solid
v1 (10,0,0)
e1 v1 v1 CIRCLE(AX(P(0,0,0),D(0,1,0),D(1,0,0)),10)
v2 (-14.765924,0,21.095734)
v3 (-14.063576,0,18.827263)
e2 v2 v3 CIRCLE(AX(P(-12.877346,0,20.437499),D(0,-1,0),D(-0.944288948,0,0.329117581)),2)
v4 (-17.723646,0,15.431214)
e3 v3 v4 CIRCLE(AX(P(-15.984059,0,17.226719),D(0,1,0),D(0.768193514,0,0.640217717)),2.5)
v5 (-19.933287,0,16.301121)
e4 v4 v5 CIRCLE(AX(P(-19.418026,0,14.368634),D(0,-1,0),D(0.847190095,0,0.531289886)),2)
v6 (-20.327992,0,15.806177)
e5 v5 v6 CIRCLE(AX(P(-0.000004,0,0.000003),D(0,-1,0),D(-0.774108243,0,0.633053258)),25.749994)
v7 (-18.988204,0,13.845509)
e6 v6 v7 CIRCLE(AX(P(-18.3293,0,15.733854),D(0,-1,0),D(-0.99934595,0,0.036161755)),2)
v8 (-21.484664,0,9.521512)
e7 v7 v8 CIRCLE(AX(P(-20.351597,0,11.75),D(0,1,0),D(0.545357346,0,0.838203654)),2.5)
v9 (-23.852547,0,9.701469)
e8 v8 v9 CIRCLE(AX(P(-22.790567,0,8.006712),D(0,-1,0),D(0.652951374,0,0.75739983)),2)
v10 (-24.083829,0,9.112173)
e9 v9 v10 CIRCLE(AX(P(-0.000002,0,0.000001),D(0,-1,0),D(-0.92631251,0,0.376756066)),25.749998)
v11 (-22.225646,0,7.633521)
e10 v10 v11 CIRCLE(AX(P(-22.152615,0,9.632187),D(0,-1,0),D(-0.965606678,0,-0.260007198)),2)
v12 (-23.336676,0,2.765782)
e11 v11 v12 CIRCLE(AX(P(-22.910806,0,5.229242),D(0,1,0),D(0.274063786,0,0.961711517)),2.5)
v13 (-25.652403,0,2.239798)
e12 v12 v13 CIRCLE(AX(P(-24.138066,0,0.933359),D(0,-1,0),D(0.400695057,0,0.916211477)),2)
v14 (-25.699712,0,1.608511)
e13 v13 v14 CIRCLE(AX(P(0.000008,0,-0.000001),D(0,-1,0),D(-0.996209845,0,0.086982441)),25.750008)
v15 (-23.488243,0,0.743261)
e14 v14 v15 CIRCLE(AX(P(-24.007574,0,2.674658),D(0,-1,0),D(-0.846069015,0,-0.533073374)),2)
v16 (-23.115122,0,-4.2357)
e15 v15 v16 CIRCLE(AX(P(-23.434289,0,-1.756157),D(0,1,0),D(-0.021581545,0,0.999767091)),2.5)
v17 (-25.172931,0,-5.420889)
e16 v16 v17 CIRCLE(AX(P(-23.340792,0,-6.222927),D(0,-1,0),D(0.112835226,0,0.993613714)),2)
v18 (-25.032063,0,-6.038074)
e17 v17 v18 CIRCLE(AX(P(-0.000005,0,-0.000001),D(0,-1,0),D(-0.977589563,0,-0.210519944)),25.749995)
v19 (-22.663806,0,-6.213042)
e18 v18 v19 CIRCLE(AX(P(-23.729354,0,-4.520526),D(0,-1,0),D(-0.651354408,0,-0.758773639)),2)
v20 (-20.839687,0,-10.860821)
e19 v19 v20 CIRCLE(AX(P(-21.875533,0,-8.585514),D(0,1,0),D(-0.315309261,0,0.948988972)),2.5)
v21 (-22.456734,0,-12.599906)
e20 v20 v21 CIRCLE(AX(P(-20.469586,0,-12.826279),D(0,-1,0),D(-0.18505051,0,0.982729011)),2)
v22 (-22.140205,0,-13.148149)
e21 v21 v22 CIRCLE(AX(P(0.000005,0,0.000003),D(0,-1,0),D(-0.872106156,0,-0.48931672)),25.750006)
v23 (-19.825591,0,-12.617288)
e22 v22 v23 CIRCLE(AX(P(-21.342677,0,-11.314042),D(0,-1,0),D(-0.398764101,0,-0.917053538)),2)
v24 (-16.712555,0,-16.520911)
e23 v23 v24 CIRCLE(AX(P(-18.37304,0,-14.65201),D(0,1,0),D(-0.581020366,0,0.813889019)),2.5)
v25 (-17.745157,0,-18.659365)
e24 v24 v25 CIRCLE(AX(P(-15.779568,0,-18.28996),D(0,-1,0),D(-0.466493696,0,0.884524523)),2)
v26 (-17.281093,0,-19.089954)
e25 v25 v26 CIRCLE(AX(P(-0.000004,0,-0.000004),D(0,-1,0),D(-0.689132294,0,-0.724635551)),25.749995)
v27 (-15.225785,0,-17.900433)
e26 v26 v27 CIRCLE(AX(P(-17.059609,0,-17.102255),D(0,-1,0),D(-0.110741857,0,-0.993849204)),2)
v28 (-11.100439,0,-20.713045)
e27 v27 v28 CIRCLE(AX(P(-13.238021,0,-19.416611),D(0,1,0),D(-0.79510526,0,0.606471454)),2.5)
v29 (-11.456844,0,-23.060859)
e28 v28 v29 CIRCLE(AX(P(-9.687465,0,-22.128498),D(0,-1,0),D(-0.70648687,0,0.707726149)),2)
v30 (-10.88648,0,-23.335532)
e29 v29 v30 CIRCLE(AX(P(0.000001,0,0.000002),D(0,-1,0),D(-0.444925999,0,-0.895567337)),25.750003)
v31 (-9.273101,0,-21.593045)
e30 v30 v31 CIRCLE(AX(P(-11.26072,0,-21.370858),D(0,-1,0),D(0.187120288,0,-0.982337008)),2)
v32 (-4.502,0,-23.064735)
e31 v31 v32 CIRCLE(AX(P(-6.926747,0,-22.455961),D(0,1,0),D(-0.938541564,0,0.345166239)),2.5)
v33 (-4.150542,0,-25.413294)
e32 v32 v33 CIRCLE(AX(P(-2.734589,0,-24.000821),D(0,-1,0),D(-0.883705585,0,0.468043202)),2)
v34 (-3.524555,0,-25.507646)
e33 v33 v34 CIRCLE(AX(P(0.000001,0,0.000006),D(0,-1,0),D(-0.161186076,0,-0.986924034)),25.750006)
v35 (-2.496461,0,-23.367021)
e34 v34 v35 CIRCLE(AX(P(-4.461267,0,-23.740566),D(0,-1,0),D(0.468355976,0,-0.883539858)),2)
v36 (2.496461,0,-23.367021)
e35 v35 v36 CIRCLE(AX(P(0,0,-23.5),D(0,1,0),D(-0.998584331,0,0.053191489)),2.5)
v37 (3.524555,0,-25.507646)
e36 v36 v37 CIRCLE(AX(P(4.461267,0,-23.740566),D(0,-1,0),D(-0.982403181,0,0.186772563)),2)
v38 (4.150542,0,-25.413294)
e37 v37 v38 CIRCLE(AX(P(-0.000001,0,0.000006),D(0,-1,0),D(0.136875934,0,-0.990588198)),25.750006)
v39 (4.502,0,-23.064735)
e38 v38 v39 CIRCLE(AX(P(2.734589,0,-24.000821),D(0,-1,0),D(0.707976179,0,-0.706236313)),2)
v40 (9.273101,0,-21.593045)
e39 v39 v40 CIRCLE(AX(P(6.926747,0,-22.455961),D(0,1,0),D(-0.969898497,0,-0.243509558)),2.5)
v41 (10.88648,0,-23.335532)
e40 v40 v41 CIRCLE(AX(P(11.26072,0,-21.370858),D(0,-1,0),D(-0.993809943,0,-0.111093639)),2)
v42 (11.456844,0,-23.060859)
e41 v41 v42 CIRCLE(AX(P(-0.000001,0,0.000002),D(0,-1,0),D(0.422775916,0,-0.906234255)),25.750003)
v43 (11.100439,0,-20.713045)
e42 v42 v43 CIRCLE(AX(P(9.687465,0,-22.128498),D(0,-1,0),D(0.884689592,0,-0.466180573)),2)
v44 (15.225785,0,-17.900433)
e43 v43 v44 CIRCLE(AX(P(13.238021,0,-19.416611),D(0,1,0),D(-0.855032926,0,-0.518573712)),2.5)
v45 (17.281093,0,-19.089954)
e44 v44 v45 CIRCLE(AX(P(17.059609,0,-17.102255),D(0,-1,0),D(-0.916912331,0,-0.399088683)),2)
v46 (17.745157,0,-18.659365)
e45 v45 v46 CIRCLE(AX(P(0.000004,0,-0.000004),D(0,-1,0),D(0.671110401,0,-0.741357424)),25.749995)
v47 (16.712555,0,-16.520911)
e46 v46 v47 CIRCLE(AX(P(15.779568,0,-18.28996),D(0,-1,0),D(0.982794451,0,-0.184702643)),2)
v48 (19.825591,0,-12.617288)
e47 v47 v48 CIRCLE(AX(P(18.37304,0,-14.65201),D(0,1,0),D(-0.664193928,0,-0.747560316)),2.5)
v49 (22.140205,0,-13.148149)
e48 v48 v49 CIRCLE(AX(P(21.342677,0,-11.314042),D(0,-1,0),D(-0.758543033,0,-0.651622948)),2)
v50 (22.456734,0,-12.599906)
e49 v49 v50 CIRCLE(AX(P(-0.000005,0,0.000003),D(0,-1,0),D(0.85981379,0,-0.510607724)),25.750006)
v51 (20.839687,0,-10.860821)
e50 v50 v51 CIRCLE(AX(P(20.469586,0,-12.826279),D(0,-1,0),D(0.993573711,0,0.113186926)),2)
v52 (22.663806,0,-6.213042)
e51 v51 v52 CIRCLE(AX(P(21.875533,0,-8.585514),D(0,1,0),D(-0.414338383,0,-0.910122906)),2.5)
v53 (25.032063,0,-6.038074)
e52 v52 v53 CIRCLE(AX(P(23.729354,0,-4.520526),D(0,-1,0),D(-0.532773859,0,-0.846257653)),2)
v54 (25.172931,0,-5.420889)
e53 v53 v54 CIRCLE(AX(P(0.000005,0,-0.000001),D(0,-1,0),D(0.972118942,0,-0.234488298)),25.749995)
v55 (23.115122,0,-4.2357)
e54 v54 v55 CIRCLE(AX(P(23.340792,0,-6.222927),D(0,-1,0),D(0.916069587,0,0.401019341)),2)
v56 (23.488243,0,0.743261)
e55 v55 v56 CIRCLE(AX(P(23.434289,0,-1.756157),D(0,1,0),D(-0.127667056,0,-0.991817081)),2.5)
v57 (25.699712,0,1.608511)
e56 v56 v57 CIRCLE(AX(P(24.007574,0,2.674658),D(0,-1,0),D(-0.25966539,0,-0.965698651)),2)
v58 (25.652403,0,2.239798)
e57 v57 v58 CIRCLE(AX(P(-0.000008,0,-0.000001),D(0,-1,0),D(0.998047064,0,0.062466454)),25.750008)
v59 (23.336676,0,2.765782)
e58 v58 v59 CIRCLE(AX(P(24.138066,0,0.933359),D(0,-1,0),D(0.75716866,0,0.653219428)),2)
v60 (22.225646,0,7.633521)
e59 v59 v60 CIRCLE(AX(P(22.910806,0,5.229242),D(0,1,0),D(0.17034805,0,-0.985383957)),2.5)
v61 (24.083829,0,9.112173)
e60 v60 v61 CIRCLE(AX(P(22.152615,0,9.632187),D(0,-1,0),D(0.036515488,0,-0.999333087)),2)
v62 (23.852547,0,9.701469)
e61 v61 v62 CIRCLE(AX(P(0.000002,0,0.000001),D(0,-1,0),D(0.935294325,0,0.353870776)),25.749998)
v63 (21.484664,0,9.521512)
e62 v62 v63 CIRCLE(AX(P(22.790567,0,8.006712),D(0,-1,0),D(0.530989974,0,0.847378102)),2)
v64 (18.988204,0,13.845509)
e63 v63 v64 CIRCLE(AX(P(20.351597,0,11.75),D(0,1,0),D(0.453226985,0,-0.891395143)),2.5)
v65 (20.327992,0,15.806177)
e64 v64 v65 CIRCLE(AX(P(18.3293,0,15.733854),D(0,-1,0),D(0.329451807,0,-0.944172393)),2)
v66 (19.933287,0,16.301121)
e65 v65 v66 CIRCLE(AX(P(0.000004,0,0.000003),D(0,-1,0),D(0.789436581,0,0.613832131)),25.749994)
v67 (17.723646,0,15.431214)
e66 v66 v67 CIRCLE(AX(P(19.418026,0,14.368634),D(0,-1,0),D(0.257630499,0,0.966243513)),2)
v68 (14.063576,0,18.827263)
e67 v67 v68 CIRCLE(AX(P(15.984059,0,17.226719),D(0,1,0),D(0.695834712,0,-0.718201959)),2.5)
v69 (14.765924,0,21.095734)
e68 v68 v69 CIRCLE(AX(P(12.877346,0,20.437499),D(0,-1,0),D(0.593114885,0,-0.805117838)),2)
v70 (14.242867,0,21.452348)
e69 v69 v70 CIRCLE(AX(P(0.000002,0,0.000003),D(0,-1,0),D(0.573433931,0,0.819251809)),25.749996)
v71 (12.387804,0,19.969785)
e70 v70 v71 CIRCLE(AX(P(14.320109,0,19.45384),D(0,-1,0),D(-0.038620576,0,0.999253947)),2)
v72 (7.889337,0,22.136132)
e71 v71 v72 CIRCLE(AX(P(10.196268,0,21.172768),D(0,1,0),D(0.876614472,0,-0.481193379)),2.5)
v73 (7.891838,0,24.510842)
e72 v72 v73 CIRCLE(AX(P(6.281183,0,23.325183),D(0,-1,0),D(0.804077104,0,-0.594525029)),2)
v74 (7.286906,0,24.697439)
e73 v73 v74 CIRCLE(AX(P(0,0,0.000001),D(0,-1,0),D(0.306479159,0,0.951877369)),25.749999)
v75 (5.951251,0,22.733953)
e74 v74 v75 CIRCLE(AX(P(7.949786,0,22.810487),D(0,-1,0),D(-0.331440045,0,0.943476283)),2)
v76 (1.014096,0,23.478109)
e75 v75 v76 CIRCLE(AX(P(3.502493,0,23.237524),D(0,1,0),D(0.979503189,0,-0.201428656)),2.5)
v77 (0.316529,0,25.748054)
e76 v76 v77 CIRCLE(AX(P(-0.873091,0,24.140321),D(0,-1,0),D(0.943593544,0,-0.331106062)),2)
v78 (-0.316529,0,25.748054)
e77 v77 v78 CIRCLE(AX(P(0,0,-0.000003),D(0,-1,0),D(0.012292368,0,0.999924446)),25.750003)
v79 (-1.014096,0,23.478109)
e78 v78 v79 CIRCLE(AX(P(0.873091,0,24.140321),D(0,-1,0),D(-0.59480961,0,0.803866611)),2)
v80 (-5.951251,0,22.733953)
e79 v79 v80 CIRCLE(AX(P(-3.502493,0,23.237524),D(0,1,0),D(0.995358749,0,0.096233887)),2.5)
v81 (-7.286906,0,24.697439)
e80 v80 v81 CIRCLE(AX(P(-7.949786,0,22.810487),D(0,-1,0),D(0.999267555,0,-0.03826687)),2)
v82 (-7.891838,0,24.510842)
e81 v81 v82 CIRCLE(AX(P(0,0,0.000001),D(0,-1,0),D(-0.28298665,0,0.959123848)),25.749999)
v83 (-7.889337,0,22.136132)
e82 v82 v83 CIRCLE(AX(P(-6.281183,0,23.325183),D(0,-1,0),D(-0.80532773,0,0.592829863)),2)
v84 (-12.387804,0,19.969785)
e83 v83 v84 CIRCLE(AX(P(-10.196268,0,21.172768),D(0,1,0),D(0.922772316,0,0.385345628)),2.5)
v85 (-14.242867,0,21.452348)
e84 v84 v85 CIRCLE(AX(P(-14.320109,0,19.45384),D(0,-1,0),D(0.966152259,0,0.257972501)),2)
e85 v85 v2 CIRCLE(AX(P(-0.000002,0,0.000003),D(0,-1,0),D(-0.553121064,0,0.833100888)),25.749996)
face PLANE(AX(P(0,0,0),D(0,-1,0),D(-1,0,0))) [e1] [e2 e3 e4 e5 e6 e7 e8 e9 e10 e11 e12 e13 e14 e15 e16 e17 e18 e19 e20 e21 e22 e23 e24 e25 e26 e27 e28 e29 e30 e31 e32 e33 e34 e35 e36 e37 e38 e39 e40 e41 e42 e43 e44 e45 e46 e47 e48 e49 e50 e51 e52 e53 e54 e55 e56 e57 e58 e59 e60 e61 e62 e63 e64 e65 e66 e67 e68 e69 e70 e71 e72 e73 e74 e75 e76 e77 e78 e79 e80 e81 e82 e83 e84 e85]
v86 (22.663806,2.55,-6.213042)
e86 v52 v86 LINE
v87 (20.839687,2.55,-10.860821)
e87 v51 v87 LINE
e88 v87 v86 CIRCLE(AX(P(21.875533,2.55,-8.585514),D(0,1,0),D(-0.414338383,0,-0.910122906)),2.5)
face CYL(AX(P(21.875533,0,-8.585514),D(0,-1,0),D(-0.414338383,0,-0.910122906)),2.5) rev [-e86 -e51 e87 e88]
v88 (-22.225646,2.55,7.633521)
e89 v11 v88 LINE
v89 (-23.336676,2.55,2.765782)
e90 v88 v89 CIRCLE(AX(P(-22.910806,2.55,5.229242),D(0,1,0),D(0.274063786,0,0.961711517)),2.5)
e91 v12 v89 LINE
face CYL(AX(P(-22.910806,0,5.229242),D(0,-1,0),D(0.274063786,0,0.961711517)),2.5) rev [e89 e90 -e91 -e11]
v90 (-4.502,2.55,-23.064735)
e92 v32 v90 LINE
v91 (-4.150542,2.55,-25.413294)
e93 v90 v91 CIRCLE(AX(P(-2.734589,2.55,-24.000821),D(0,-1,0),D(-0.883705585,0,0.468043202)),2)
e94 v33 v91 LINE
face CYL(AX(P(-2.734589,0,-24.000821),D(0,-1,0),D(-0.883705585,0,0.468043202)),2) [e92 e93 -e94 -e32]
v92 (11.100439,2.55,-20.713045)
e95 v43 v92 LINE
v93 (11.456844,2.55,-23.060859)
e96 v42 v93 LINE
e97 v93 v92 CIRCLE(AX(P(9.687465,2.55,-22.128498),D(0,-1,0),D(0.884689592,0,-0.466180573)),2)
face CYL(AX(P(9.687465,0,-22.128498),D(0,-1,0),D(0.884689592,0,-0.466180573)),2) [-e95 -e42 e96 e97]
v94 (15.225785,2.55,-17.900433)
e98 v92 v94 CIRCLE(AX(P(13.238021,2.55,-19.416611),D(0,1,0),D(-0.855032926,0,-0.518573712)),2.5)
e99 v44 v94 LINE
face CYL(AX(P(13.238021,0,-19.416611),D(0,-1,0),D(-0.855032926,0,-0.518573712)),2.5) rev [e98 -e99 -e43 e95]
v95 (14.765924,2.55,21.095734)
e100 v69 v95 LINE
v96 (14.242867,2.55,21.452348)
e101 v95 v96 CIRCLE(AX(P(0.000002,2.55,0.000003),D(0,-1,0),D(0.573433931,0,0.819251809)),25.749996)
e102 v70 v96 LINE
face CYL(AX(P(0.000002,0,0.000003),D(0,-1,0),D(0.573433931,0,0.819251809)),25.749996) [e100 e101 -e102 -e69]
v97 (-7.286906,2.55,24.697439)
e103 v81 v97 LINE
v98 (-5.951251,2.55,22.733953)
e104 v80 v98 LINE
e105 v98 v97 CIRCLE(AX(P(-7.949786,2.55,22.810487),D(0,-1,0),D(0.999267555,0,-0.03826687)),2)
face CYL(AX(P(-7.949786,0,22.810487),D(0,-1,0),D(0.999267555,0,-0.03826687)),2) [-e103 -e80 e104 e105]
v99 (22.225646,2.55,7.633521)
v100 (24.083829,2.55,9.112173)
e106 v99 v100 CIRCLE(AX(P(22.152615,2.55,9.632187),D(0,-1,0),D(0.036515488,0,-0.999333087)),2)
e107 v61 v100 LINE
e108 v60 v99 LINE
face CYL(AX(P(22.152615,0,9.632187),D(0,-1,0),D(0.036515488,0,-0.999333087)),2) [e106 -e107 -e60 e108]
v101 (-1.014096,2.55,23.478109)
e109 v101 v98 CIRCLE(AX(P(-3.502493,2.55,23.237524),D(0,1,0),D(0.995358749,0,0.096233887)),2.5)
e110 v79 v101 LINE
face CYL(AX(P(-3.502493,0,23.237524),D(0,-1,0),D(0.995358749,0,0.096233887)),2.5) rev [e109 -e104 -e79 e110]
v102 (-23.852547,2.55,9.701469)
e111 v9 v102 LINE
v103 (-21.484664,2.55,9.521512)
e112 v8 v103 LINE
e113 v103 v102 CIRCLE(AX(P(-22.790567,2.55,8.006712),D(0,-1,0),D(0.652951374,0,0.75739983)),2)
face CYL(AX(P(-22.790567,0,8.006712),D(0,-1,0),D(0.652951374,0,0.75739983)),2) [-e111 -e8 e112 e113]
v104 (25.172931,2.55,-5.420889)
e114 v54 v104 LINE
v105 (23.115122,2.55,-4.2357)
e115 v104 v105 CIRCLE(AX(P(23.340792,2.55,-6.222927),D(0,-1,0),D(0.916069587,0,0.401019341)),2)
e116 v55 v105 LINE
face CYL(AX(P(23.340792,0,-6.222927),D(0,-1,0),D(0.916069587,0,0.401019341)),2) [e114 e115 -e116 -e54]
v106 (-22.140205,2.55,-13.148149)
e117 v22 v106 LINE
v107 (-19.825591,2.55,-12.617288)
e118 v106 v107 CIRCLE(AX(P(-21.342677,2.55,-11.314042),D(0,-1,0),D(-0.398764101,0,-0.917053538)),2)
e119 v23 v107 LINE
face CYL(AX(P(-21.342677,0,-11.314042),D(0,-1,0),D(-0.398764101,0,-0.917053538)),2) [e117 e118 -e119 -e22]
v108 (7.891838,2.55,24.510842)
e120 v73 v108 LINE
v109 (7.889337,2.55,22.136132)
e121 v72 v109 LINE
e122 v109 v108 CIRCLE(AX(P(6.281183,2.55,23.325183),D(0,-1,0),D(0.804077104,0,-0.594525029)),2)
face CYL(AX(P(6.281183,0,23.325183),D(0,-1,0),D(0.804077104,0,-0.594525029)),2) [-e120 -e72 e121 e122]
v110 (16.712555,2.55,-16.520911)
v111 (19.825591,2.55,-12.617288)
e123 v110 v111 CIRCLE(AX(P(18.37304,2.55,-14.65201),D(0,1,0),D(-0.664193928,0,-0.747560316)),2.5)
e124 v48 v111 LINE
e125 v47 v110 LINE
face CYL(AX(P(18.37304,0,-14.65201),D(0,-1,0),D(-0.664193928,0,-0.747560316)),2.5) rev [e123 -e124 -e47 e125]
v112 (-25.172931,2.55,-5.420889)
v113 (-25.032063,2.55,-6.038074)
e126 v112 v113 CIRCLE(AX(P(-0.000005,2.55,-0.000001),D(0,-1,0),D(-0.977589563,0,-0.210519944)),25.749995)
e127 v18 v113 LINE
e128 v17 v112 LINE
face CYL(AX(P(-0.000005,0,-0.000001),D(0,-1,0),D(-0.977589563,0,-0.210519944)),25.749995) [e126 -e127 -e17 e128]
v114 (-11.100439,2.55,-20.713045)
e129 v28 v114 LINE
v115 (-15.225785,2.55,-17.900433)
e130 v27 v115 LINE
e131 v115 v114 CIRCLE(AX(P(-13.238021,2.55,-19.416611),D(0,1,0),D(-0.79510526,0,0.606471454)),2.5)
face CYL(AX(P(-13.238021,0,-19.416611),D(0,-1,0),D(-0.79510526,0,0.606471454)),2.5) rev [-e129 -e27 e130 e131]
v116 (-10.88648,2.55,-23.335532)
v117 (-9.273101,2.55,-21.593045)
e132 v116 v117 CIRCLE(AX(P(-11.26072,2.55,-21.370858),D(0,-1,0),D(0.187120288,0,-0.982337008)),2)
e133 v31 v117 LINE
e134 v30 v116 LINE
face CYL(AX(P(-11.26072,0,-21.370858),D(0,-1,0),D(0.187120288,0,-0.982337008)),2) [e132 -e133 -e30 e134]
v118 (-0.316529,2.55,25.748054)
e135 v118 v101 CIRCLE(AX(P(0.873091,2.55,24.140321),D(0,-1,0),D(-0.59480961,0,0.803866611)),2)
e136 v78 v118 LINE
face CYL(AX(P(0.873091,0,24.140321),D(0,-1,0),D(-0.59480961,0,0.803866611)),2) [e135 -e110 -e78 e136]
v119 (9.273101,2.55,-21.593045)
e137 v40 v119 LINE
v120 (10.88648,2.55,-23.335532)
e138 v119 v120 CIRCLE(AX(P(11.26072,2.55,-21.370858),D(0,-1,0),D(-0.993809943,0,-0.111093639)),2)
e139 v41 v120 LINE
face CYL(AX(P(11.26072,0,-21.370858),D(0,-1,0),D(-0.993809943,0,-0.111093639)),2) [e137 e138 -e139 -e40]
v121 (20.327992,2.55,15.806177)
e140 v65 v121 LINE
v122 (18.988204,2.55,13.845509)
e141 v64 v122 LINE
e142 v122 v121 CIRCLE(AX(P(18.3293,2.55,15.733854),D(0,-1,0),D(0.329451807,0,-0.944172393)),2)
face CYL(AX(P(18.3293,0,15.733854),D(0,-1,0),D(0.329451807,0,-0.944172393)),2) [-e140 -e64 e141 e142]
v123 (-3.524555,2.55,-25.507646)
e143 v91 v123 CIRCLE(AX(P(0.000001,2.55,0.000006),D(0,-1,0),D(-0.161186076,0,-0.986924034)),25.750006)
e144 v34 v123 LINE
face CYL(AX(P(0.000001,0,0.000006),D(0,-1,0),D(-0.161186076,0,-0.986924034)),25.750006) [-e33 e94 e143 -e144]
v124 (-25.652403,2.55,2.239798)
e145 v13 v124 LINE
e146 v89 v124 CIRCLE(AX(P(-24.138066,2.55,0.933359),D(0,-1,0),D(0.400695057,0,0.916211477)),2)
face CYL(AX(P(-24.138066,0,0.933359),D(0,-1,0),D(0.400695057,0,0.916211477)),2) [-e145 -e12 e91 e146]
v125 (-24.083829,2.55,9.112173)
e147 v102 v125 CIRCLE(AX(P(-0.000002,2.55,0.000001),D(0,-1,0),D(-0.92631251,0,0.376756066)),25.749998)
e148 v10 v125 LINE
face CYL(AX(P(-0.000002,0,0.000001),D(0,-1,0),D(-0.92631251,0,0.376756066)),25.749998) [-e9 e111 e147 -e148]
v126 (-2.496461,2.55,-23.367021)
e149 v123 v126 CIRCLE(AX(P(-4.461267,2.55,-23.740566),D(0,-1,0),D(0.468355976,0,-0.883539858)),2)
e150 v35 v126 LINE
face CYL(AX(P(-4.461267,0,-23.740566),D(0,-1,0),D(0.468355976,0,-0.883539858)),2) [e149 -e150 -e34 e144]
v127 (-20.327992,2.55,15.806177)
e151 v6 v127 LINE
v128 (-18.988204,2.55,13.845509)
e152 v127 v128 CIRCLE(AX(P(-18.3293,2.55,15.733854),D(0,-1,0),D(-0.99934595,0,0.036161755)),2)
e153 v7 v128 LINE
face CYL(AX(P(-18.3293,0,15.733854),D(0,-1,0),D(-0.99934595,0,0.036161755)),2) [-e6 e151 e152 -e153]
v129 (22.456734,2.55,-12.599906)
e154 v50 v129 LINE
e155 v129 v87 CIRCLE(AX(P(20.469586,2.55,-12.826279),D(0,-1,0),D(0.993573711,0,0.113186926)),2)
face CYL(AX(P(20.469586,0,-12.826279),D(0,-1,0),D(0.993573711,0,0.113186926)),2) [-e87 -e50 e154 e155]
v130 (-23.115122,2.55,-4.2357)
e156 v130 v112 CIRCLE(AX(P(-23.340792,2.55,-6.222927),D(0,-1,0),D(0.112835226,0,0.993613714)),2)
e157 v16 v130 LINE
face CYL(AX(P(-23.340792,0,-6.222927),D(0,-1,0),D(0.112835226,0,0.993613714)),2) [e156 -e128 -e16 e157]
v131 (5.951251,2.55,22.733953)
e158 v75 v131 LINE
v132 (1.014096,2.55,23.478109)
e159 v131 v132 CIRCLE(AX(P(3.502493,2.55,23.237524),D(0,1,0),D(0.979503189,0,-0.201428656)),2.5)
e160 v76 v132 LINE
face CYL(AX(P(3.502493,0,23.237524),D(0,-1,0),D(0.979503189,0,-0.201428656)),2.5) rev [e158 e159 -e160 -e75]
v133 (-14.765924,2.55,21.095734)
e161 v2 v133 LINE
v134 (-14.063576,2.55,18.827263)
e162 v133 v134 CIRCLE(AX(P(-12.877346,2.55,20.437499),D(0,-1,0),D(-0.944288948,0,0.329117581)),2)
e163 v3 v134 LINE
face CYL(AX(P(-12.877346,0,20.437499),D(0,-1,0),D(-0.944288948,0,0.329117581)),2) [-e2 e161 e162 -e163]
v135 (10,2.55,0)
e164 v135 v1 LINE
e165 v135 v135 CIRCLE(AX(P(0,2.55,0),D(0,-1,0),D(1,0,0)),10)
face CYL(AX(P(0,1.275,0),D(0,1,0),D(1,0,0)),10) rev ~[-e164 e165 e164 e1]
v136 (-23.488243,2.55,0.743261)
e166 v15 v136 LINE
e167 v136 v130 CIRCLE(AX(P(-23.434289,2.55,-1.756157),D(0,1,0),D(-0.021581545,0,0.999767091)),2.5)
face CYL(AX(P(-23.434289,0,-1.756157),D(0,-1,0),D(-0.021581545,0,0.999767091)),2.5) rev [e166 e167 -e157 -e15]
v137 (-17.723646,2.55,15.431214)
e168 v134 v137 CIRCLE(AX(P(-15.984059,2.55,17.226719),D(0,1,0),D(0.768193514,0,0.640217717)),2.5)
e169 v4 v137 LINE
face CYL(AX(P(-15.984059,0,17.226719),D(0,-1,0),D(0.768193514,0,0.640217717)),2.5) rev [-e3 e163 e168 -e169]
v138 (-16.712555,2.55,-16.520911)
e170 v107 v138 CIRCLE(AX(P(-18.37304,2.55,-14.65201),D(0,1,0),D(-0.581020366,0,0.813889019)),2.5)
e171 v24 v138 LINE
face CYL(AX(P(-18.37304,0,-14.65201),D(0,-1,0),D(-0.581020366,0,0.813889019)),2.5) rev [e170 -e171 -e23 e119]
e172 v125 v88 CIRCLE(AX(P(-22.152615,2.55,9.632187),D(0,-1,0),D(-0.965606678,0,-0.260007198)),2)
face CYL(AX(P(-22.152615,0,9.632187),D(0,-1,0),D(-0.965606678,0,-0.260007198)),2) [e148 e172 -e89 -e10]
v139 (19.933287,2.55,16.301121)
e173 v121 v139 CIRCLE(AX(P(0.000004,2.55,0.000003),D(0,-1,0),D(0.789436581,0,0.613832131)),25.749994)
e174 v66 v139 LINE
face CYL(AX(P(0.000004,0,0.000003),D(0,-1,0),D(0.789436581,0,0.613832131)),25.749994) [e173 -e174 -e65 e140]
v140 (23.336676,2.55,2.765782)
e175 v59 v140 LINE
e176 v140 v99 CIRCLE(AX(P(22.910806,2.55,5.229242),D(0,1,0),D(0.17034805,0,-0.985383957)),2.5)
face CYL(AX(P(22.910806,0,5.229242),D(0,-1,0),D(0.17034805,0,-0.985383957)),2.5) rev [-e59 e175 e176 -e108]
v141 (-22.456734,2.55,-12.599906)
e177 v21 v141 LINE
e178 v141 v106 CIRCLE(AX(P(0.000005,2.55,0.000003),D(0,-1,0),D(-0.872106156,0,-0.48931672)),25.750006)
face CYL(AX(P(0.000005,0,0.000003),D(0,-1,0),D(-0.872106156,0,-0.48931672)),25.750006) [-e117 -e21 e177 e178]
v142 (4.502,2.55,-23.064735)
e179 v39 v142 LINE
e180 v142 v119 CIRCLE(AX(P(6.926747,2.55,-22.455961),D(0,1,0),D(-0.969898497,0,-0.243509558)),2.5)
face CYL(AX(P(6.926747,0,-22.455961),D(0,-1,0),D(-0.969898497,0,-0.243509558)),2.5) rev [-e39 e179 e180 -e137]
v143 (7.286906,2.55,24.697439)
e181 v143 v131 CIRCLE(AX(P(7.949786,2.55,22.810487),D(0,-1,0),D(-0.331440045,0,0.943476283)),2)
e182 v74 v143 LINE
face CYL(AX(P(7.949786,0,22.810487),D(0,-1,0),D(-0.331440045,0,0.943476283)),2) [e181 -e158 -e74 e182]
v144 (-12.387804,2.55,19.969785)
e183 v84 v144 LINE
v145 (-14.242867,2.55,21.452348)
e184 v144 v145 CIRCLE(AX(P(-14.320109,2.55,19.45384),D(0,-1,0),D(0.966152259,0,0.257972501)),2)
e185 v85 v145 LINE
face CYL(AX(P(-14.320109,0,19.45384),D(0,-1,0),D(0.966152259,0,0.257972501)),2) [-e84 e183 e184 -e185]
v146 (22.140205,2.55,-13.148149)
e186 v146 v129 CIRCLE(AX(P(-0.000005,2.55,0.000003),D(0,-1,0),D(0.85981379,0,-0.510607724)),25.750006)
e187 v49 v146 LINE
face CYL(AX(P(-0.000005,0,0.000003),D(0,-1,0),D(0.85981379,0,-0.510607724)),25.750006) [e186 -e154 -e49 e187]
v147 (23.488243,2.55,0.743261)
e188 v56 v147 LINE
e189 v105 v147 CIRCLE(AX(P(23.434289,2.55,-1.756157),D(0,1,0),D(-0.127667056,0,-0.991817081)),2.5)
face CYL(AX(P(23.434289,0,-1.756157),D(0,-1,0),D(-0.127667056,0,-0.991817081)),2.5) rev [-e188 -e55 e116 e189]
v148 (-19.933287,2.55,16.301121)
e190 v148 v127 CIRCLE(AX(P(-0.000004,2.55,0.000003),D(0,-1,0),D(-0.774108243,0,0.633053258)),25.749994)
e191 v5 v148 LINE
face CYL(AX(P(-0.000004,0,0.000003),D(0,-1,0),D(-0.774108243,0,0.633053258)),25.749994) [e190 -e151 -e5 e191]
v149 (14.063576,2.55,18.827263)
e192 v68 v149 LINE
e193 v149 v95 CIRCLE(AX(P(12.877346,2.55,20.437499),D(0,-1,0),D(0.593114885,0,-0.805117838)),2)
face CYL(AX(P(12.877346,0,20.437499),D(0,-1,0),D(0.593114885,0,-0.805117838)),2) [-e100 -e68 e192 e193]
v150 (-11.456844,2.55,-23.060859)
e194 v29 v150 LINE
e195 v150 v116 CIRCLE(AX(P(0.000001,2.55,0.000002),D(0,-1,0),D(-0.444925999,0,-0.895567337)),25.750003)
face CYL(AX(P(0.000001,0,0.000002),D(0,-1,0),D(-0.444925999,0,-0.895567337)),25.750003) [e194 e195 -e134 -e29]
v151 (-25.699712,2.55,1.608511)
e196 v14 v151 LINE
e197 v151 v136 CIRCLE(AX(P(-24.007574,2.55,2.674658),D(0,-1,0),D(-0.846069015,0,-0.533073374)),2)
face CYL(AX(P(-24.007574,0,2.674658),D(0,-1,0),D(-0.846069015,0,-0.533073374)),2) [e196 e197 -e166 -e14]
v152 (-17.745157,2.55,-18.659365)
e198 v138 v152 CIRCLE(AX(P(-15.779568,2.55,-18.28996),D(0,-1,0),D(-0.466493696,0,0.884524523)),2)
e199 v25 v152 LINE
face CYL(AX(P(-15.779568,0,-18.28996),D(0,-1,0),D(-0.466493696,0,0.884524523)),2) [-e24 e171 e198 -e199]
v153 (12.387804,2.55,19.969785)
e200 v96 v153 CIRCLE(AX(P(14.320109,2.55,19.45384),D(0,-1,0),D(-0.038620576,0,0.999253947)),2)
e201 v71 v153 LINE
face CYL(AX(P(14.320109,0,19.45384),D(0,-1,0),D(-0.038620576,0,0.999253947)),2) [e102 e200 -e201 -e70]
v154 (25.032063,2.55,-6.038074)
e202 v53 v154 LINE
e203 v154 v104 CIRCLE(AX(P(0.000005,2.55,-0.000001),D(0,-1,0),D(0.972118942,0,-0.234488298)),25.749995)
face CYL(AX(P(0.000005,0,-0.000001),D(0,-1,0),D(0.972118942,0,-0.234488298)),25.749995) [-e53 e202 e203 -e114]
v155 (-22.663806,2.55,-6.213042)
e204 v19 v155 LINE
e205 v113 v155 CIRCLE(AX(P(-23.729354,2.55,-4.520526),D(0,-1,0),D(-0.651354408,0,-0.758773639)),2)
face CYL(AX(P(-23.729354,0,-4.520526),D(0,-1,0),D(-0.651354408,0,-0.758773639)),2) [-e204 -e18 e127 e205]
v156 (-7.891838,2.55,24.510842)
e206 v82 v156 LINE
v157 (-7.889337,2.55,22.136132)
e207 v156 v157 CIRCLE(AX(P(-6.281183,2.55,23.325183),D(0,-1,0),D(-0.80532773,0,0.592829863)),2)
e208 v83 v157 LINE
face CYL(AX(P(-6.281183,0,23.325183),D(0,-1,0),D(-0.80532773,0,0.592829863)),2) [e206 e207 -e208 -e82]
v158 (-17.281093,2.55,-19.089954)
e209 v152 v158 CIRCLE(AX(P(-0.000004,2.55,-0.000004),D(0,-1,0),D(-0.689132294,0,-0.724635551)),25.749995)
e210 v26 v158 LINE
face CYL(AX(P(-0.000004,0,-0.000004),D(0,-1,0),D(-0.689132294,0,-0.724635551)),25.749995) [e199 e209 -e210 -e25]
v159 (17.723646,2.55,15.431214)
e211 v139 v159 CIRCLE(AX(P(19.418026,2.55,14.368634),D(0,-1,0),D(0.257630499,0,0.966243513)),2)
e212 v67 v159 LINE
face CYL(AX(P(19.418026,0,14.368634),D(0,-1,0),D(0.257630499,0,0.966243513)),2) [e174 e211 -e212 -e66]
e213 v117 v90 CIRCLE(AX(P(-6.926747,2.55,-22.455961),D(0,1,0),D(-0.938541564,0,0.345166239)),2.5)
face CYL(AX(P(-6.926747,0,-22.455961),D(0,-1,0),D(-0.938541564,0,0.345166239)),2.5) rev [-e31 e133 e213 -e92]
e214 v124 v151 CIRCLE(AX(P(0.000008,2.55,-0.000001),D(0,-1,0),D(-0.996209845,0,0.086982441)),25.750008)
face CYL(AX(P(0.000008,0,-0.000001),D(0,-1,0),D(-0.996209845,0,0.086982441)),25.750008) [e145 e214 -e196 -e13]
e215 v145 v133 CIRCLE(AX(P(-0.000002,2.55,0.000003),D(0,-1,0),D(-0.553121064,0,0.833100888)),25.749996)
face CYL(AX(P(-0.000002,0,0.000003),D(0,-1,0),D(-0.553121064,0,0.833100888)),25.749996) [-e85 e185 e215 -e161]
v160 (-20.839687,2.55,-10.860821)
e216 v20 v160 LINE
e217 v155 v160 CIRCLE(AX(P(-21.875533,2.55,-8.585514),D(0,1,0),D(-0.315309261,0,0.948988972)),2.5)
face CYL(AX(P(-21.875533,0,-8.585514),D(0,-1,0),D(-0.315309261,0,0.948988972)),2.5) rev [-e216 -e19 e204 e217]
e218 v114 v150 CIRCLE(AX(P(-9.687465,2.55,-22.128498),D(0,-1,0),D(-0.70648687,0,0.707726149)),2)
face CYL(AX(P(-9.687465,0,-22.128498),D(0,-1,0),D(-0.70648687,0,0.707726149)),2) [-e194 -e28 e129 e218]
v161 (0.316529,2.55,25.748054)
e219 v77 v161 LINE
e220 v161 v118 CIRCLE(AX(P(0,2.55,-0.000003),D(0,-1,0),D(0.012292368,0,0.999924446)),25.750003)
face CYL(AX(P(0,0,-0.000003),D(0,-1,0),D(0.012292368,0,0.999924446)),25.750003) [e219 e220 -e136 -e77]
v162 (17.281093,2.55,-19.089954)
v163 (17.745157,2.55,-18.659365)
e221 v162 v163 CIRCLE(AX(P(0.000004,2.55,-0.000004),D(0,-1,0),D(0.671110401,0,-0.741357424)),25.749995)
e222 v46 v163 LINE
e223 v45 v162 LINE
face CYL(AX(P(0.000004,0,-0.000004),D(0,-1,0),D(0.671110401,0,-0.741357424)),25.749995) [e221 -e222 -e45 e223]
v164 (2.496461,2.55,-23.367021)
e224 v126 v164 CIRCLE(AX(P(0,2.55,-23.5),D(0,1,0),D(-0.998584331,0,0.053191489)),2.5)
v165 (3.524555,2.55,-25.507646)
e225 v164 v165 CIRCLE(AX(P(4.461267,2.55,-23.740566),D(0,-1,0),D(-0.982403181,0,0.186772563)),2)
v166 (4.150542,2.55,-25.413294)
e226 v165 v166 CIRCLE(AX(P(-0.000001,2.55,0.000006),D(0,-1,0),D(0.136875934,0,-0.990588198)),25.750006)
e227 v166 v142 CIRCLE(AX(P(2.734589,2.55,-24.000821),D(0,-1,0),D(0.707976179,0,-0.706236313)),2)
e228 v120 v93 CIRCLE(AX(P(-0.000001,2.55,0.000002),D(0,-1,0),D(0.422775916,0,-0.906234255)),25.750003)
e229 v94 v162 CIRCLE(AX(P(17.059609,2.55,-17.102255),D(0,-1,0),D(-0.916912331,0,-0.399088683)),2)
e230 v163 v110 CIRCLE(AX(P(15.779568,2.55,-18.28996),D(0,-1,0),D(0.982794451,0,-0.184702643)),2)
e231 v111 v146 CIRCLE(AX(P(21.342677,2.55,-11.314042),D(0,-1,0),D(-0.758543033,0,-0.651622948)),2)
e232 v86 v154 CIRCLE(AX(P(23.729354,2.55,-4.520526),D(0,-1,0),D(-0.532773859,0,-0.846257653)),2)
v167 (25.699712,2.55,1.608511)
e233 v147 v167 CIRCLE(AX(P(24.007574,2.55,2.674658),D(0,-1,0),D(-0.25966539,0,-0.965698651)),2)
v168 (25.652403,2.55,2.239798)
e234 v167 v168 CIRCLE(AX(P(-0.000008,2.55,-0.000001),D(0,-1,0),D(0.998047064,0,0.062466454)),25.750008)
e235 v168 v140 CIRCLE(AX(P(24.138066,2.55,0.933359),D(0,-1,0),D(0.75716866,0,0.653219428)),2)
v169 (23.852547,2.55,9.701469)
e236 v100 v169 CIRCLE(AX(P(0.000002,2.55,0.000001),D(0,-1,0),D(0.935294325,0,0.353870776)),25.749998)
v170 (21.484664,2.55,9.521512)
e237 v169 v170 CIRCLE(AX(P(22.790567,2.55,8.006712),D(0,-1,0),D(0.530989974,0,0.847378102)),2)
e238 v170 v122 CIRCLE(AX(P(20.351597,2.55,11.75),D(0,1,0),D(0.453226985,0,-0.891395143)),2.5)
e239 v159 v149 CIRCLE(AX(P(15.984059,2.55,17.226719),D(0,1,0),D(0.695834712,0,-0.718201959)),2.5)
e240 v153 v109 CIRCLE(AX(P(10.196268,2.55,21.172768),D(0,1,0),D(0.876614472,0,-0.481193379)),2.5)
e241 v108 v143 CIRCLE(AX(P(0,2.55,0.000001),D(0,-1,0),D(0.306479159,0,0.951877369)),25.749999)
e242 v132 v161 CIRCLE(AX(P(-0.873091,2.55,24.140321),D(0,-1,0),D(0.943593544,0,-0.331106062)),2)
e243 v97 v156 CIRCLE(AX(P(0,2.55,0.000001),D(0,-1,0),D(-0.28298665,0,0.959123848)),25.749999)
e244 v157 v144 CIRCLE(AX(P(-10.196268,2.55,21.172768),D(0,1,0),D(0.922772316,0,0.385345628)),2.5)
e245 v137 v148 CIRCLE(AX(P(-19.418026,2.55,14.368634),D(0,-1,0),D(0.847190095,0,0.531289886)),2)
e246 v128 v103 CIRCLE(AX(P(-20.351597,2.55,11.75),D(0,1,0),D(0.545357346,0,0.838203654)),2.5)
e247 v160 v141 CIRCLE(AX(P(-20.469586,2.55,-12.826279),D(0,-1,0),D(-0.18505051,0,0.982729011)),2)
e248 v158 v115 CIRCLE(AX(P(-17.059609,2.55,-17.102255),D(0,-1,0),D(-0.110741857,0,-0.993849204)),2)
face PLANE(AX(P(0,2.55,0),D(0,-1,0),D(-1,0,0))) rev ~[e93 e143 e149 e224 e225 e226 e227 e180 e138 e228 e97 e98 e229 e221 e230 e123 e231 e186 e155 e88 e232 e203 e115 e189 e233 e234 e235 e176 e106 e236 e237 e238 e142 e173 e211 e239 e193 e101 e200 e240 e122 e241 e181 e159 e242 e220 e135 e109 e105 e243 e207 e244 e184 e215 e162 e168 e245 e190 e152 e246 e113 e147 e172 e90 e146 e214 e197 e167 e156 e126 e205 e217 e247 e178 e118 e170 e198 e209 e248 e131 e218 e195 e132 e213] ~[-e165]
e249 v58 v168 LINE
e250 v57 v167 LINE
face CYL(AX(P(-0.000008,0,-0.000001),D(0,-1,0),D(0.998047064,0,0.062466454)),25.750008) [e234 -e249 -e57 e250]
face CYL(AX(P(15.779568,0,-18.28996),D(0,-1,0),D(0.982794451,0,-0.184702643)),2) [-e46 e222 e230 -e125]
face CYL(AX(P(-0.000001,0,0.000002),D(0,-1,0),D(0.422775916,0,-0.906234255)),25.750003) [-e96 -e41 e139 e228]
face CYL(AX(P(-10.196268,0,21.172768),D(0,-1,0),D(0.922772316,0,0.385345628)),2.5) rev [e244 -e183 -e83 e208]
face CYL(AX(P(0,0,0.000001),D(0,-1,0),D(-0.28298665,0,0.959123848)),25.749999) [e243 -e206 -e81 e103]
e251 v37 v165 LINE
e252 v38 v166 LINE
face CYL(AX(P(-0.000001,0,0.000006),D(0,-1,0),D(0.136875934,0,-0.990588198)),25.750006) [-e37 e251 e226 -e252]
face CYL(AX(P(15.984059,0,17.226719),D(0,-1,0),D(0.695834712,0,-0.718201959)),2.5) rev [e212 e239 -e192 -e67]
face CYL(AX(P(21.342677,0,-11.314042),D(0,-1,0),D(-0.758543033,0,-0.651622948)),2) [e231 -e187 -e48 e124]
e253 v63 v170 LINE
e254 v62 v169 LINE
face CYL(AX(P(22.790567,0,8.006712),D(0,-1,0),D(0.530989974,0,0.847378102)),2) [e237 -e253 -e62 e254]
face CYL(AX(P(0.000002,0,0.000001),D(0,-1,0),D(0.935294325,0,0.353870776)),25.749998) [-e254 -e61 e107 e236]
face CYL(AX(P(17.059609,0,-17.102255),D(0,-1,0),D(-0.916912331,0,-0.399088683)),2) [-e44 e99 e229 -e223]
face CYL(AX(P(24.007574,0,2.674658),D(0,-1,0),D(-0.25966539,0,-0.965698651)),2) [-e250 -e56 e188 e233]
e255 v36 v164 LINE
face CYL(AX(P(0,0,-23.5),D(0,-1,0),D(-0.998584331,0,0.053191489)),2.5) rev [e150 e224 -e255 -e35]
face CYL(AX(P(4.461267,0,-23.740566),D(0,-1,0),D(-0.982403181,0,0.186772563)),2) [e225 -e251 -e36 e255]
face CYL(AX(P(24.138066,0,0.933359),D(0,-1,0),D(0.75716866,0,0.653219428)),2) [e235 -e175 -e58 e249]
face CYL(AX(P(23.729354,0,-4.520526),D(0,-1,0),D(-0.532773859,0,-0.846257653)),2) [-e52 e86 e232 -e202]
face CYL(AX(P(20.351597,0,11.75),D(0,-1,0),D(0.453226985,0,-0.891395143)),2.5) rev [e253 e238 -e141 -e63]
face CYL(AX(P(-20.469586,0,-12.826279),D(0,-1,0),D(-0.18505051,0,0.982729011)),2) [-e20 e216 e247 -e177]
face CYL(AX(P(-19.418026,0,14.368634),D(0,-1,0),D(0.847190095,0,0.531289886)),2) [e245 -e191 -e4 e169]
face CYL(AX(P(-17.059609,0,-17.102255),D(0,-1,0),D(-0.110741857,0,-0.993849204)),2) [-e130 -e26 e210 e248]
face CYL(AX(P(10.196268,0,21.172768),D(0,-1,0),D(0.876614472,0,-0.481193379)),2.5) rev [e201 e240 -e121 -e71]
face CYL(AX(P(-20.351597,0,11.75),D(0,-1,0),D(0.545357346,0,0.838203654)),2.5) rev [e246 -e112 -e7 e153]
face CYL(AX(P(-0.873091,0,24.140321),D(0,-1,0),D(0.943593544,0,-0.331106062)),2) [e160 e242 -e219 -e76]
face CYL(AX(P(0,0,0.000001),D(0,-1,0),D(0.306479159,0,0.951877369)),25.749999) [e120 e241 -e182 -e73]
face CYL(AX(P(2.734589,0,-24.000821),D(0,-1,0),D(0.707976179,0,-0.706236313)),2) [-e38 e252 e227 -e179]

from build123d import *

# Parameters (mm, degrees)
SKETCH1_R               = 3
BOSS_EXTRUDE1_DEPTH     = 2.55
SKETCH2_R               = 10
CUT_EXTRUDE1_DEPTH      = 4
CUT_EXTRUDE1_DEPTH_BACK = 4


with BuildPart() as part:
    # Sketch1 → Boss-Extrude1 (new body)
    with BuildSketch(Plane(origin=(0, 0, 0), x_dir=(1, 0, 0), z_dir=(0, 1, 0))):
        with BuildLine():
            ThreePointArc((-2.496460827, 23.367021277), (0, 21), (2.496460827, 23.367021277))
            ThreePointArc((2.496460827, 23.367021277), (2.658416444, 24.60643544), (3.524555237, 25.507646116))
            ThreePointArc((3.524555237, 25.507646116), (3.837838354, 25.462393775), (4.150541543, 25.413293862))
            ThreePointArc((4.150541543, 25.413293862), (4.712563709, 24.296822557), (4.502000355, 23.064734831))
            ThreePointArc((4.502000355, 23.064734831), (6.189858663, 20.067028922), (9.273100509, 21.593045338))
            ThreePointArc((9.273100509, 21.593045338), (9.79318463, 22.729658551), (10.886479817, 23.335532074))
            ThreePointArc((10.886479817, 23.335532074), (11.172506282, 23.199948348), (11.456844492, 23.060858923))
            ThreePointArc((11.456844492, 23.060858923), (11.664811896, 21.828330364), (11.100439049, 20.713045477))
            ThreePointArc((11.100439049, 20.713045477), (11.829721219, 17.351014261), (15.225784516, 17.900432561))
            ThreePointArc((15.225784516, 17.900432561), (16.057785385, 18.833251753), (17.28109289, 19.089953602))
            ThreePointArc((17.28109289, 19.089953602), (17.514447998, 18.8760857), (17.745156531, 18.659365469))
            ThreePointArc((17.745156531, 18.659365469), (17.580590356, 17.420295227), (16.712555019, 16.520911135))
            ThreePointArc((16.712555019, 16.520911135), (16.418461132, 13.093285839), (19.825590752, 12.617287797))
            ThreePointArc((19.825590752, 12.617287797), (20.895581441, 13.263427887), (22.140205024, 13.148148977))
            ThreePointArc((22.140205024, 13.148148977), (22.300154147, 12.875), (22.456733538, 12.599905507))
            ThreePointArc((22.456733538, 12.599905507), (21.934256212, 11.464390411), (20.839687135, 10.860821338))
            ThreePointArc((20.839687135, 10.860821338), (19.548348722, 7.672161512), (22.663806246, 6.213041642))
            ThreePointArc((22.663806246, 6.213041642), (23.876713386, 6.515090249), (25.03206278, 6.038073615))
            ThreePointArc((25.03206278, 6.038073615), (25.104393739, 5.729914049), (25.172931221, 5.420888647))
            ThreePointArc((25.172931221, 5.420888647), (24.338967146, 4.489824196), (23.115121595, 4.235699903))
            ThreePointArc((23.115121595, 4.235699903), (20.941279741, 1.569331965), (23.488243097, -0.743260529))
            ThreePointArc((23.488243097, -0.743260529), (24.736294566, -0.812141749), (25.699711907, -1.608511084))
            ThreePointArc((25.699711907, -1.608511084), (25.677997777, -1.92429991), (25.652403496, -2.239797958))
            ThreePointArc((25.652403496, -2.239797958), (24.58105404, -2.883682602), (23.336676062, -2.765782057))
            ThreePointArc((23.336676062, -2.765782057), (20.473486156, -4.672939613), (22.225646472, -7.63352074))
            ThreePointArc((22.225646472, -7.63352074), (23.39794742, -8.067211389), (24.083828849, -9.112172516))
            ThreePointArc((24.083828849, -9.112172516), (23.969999028, -9.407531377), (23.852547146, -9.701468686))
            ThreePointArc((23.852547146, -9.701468686), (22.63900641, -10.000961546), (21.48466445, -9.521512143))
            ThreePointArc((21.48466445, -9.521512143), (18.186533479, -10.5), (18.988203623, -13.845509134))
            ThreePointArc((18.988203623, -13.845509134), (19.980589966, -14.605473895), (20.327991909, -15.80617743))
            ThreePointArc((20.327991909, -15.80617743), (20.132160674, -16.054862398), (19.933287307, -16.301121346))
            ThreePointArc((19.933287307, -16.301121346), (18.685383711, -16.229611167), (17.723646117, -15.431214091))
            ThreePointArc((17.723646117, -15.431214091), (14.283627493, -15.394089308), (14.063575553, -18.827263281))
            ThreePointArc((14.063575553, -18.827263281), (14.78786941, -19.845975949), (14.765923679, -21.095734116))
            ThreePointArc((14.765923679, -21.095734116), (14.505491495, -21.275648439), (14.242867415, -21.452347839))
            ThreePointArc((14.242867415, -21.452347839), (13.071482669, -21.016188615), (12.387804048, -19.969784948))
            ThreePointArc((12.387804048, -19.969784948), (9.111558521, -18.920346226), (7.889337079, -22.136132464))
            ThreePointArc((7.889337079, -22.136132464), (8.281181761, -23.323075949), (7.891838331, -24.510842249))
            ThreePointArc((7.891838331, -24.510842249), (7.589945741, -24.605999749), (7.286906249, -24.697439084))
            ThreePointArc((7.286906249, -24.697439084), (6.29612303, -23.935385475), (5.951251227, -22.733952776))
            ThreePointArc((5.951251227, -22.733952776), (3.12988759, -20.765447351), (1.014096383, -23.478109134))
            ThreePointArc((1.014096383, -23.478109134), (1.038674771, -24.727818298), (0.316528515, -25.748054484))
            ThreePointArc((0.316528515, -25.748054484), (0, -25.75), (-0.316528515, -25.748054484))
            ThreePointArc((-0.316528515, -25.748054484), (-1.038674771, -24.727818298), (-1.014096383, -23.478109134))
            ThreePointArc((-1.014096383, -23.478109134), (-3.12988759, -20.765447351), (-5.951251227, -22.733952776))
            ThreePointArc((-5.951251227, -22.733952776), (-6.29612303, -23.935385475), (-7.286906249, -24.697439084))
            ThreePointArc((-7.286906249, -24.697439084), (-7.589945741, -24.605999749), (-7.891838331, -24.510842249))
            ThreePointArc((-7.891838331, -24.510842249), (-8.281181761, -23.323075949), (-7.889337079, -22.136132464))
            ThreePointArc((-7.889337079, -22.136132464), (-9.111558521, -18.920346226), (-12.387804048, -19.969784948))
            ThreePointArc((-12.387804048, -19.969784948), (-13.071482669, -21.016188615), (-14.242867415, -21.452347839))
            ThreePointArc((-14.242867415, -21.452347839), (-14.505491495, -21.275648439), (-14.765923679, -21.095734116))
            ThreePointArc((-14.765923679, -21.095734116), (-14.78786941, -19.845975949), (-14.063575553, -18.827263281))
            ThreePointArc((-14.063575553, -18.827263281), (-14.283627493, -15.394089308), (-17.723646117, -15.431214091))
            ThreePointArc((-17.723646117, -15.431214091), (-18.685383711, -16.229611167), (-19.933287307, -16.301121346))
            ThreePointArc((-19.933287307, -16.301121346), (-20.132160674, -16.054862398), (-20.327991909, -15.80617743))
            ThreePointArc((-20.327991909, -15.80617743), (-19.980589966, -14.605473895), (-18.988203623, -13.845509134))
            ThreePointArc((-18.988203623, -13.845509134), (-18.186533479, -10.5), (-21.48466445, -9.521512143))
            ThreePointArc((-21.48466445, -9.521512143), (-22.63900641, -10.000961546), (-23.852547146, -9.701468686))
            ThreePointArc((-23.852547146, -9.701468686), (-23.969999028, -9.407531377), (-24.083828849, -9.112172516))
            ThreePointArc((-24.083828849, -9.112172516), (-23.39794742, -8.067211389), (-22.225646472, -7.63352074))
            ThreePointArc((-22.225646472, -7.63352074), (-20.473486156, -4.672939613), (-23.336676062, -2.765782057))
            ThreePointArc((-23.336676062, -2.765782057), (-24.58105404, -2.883682602), (-25.652403496, -2.239797958))
            ThreePointArc((-25.652403496, -2.239797958), (-25.677997777, -1.92429991), (-25.699711907, -1.608511084))
            ThreePointArc((-25.699711907, -1.608511084), (-24.736294566, -0.812141749), (-23.488243097, -0.743260529))
            ThreePointArc((-23.488243097, -0.743260529), (-20.941279741, 1.569331965), (-23.115121595, 4.235699903))
            ThreePointArc((-23.115121595, 4.235699903), (-24.338967146, 4.489824196), (-25.172931221, 5.420888647))
            ThreePointArc((-25.172931221, 5.420888647), (-25.104393739, 5.729914049), (-25.03206278, 6.038073615))
            ThreePointArc((-25.03206278, 6.038073615), (-23.876713386, 6.515090249), (-22.663806246, 6.213041642))
            ThreePointArc((-22.663806246, 6.213041642), (-19.548348722, 7.672161512), (-20.839687135, 10.860821338))
            ThreePointArc((-20.839687135, 10.860821338), (-21.934256212, 11.464390411), (-22.456733538, 12.599905507))
            ThreePointArc((-22.456733538, 12.599905507), (-22.300154147, 12.875), (-22.140205024, 13.148148977))
            ThreePointArc((-22.140205024, 13.148148977), (-20.895581441, 13.263427887), (-19.825590752, 12.617287797))
            ThreePointArc((-19.825590752, 12.617287797), (-16.418461132, 13.093285839), (-16.712555019, 16.520911135))
            ThreePointArc((-16.712555019, 16.520911135), (-17.580590356, 17.420295227), (-17.745156531, 18.659365469))
            ThreePointArc((-17.745156531, 18.659365469), (-17.514447998, 18.8760857), (-17.28109289, 19.089953602))
            ThreePointArc((-17.28109289, 19.089953602), (-16.057785385, 18.833251753), (-15.225784516, 17.900432561))
            ThreePointArc((-15.225784516, 17.900432561), (-11.829721219, 17.351014261), (-11.100439049, 20.713045477))
            ThreePointArc((-11.100439049, 20.713045477), (-11.664811896, 21.828330364), (-11.456844492, 23.060858923))
            ThreePointArc((-11.456844492, 23.060858923), (-11.172506282, 23.199948348), (-10.886479817, 23.335532074))
            ThreePointArc((-10.886479817, 23.335532074), (-9.79318463, 22.729658551), (-9.273100509, 21.593045338))
            ThreePointArc((-9.273100509, 21.593045338), (-6.189858663, 20.067028922), (-4.502000355, 23.064734831))
            ThreePointArc((-4.502000355, 23.064734831), (-4.712563709, 24.296822557), (-4.150541543, 25.413293862))
            ThreePointArc((-4.150541543, 25.413293862), (-3.837838354, 25.462393775), (-3.524555237, 25.507646116))
            ThreePointArc((-3.524555237, 25.507646116), (-2.658416444, 24.60643544), (-2.496460827, 23.367021277))
        make_face()
        with Locations((-6.5, 0)):
            Circle(SKETCH1_R, mode=Mode.SUBTRACT)
        with Locations((0, 7)):
            Circle(SKETCH1_R, mode=Mode.SUBTRACT)
        with Locations((7, 0)):
            Circle(SKETCH1_R, mode=Mode.SUBTRACT)
        with Locations((0, -7)):
            Circle(SKETCH1_R, mode=Mode.SUBTRACT)
    extrude(amount=BOSS_EXTRUDE1_DEPTH)

    # Sketch2 → Cut-Extrude1 (cut, two sides)
    with BuildSketch(Plane(origin=(0, 1.275, 0), x_dir=(1, 0, 0), z_dir=(0, 1, 0))) as cut_extrude1_sk:
        Circle(SKETCH2_R)
    extrude(amount=CUT_EXTRUDE1_DEPTH, mode=Mode.SUBTRACT)
    extrude(cut_extrude1_sk.sketch, amount=-CUT_EXTRUDE1_DEPTH_BACK, mode=Mode.SUBTRACT)


solid = part.part
